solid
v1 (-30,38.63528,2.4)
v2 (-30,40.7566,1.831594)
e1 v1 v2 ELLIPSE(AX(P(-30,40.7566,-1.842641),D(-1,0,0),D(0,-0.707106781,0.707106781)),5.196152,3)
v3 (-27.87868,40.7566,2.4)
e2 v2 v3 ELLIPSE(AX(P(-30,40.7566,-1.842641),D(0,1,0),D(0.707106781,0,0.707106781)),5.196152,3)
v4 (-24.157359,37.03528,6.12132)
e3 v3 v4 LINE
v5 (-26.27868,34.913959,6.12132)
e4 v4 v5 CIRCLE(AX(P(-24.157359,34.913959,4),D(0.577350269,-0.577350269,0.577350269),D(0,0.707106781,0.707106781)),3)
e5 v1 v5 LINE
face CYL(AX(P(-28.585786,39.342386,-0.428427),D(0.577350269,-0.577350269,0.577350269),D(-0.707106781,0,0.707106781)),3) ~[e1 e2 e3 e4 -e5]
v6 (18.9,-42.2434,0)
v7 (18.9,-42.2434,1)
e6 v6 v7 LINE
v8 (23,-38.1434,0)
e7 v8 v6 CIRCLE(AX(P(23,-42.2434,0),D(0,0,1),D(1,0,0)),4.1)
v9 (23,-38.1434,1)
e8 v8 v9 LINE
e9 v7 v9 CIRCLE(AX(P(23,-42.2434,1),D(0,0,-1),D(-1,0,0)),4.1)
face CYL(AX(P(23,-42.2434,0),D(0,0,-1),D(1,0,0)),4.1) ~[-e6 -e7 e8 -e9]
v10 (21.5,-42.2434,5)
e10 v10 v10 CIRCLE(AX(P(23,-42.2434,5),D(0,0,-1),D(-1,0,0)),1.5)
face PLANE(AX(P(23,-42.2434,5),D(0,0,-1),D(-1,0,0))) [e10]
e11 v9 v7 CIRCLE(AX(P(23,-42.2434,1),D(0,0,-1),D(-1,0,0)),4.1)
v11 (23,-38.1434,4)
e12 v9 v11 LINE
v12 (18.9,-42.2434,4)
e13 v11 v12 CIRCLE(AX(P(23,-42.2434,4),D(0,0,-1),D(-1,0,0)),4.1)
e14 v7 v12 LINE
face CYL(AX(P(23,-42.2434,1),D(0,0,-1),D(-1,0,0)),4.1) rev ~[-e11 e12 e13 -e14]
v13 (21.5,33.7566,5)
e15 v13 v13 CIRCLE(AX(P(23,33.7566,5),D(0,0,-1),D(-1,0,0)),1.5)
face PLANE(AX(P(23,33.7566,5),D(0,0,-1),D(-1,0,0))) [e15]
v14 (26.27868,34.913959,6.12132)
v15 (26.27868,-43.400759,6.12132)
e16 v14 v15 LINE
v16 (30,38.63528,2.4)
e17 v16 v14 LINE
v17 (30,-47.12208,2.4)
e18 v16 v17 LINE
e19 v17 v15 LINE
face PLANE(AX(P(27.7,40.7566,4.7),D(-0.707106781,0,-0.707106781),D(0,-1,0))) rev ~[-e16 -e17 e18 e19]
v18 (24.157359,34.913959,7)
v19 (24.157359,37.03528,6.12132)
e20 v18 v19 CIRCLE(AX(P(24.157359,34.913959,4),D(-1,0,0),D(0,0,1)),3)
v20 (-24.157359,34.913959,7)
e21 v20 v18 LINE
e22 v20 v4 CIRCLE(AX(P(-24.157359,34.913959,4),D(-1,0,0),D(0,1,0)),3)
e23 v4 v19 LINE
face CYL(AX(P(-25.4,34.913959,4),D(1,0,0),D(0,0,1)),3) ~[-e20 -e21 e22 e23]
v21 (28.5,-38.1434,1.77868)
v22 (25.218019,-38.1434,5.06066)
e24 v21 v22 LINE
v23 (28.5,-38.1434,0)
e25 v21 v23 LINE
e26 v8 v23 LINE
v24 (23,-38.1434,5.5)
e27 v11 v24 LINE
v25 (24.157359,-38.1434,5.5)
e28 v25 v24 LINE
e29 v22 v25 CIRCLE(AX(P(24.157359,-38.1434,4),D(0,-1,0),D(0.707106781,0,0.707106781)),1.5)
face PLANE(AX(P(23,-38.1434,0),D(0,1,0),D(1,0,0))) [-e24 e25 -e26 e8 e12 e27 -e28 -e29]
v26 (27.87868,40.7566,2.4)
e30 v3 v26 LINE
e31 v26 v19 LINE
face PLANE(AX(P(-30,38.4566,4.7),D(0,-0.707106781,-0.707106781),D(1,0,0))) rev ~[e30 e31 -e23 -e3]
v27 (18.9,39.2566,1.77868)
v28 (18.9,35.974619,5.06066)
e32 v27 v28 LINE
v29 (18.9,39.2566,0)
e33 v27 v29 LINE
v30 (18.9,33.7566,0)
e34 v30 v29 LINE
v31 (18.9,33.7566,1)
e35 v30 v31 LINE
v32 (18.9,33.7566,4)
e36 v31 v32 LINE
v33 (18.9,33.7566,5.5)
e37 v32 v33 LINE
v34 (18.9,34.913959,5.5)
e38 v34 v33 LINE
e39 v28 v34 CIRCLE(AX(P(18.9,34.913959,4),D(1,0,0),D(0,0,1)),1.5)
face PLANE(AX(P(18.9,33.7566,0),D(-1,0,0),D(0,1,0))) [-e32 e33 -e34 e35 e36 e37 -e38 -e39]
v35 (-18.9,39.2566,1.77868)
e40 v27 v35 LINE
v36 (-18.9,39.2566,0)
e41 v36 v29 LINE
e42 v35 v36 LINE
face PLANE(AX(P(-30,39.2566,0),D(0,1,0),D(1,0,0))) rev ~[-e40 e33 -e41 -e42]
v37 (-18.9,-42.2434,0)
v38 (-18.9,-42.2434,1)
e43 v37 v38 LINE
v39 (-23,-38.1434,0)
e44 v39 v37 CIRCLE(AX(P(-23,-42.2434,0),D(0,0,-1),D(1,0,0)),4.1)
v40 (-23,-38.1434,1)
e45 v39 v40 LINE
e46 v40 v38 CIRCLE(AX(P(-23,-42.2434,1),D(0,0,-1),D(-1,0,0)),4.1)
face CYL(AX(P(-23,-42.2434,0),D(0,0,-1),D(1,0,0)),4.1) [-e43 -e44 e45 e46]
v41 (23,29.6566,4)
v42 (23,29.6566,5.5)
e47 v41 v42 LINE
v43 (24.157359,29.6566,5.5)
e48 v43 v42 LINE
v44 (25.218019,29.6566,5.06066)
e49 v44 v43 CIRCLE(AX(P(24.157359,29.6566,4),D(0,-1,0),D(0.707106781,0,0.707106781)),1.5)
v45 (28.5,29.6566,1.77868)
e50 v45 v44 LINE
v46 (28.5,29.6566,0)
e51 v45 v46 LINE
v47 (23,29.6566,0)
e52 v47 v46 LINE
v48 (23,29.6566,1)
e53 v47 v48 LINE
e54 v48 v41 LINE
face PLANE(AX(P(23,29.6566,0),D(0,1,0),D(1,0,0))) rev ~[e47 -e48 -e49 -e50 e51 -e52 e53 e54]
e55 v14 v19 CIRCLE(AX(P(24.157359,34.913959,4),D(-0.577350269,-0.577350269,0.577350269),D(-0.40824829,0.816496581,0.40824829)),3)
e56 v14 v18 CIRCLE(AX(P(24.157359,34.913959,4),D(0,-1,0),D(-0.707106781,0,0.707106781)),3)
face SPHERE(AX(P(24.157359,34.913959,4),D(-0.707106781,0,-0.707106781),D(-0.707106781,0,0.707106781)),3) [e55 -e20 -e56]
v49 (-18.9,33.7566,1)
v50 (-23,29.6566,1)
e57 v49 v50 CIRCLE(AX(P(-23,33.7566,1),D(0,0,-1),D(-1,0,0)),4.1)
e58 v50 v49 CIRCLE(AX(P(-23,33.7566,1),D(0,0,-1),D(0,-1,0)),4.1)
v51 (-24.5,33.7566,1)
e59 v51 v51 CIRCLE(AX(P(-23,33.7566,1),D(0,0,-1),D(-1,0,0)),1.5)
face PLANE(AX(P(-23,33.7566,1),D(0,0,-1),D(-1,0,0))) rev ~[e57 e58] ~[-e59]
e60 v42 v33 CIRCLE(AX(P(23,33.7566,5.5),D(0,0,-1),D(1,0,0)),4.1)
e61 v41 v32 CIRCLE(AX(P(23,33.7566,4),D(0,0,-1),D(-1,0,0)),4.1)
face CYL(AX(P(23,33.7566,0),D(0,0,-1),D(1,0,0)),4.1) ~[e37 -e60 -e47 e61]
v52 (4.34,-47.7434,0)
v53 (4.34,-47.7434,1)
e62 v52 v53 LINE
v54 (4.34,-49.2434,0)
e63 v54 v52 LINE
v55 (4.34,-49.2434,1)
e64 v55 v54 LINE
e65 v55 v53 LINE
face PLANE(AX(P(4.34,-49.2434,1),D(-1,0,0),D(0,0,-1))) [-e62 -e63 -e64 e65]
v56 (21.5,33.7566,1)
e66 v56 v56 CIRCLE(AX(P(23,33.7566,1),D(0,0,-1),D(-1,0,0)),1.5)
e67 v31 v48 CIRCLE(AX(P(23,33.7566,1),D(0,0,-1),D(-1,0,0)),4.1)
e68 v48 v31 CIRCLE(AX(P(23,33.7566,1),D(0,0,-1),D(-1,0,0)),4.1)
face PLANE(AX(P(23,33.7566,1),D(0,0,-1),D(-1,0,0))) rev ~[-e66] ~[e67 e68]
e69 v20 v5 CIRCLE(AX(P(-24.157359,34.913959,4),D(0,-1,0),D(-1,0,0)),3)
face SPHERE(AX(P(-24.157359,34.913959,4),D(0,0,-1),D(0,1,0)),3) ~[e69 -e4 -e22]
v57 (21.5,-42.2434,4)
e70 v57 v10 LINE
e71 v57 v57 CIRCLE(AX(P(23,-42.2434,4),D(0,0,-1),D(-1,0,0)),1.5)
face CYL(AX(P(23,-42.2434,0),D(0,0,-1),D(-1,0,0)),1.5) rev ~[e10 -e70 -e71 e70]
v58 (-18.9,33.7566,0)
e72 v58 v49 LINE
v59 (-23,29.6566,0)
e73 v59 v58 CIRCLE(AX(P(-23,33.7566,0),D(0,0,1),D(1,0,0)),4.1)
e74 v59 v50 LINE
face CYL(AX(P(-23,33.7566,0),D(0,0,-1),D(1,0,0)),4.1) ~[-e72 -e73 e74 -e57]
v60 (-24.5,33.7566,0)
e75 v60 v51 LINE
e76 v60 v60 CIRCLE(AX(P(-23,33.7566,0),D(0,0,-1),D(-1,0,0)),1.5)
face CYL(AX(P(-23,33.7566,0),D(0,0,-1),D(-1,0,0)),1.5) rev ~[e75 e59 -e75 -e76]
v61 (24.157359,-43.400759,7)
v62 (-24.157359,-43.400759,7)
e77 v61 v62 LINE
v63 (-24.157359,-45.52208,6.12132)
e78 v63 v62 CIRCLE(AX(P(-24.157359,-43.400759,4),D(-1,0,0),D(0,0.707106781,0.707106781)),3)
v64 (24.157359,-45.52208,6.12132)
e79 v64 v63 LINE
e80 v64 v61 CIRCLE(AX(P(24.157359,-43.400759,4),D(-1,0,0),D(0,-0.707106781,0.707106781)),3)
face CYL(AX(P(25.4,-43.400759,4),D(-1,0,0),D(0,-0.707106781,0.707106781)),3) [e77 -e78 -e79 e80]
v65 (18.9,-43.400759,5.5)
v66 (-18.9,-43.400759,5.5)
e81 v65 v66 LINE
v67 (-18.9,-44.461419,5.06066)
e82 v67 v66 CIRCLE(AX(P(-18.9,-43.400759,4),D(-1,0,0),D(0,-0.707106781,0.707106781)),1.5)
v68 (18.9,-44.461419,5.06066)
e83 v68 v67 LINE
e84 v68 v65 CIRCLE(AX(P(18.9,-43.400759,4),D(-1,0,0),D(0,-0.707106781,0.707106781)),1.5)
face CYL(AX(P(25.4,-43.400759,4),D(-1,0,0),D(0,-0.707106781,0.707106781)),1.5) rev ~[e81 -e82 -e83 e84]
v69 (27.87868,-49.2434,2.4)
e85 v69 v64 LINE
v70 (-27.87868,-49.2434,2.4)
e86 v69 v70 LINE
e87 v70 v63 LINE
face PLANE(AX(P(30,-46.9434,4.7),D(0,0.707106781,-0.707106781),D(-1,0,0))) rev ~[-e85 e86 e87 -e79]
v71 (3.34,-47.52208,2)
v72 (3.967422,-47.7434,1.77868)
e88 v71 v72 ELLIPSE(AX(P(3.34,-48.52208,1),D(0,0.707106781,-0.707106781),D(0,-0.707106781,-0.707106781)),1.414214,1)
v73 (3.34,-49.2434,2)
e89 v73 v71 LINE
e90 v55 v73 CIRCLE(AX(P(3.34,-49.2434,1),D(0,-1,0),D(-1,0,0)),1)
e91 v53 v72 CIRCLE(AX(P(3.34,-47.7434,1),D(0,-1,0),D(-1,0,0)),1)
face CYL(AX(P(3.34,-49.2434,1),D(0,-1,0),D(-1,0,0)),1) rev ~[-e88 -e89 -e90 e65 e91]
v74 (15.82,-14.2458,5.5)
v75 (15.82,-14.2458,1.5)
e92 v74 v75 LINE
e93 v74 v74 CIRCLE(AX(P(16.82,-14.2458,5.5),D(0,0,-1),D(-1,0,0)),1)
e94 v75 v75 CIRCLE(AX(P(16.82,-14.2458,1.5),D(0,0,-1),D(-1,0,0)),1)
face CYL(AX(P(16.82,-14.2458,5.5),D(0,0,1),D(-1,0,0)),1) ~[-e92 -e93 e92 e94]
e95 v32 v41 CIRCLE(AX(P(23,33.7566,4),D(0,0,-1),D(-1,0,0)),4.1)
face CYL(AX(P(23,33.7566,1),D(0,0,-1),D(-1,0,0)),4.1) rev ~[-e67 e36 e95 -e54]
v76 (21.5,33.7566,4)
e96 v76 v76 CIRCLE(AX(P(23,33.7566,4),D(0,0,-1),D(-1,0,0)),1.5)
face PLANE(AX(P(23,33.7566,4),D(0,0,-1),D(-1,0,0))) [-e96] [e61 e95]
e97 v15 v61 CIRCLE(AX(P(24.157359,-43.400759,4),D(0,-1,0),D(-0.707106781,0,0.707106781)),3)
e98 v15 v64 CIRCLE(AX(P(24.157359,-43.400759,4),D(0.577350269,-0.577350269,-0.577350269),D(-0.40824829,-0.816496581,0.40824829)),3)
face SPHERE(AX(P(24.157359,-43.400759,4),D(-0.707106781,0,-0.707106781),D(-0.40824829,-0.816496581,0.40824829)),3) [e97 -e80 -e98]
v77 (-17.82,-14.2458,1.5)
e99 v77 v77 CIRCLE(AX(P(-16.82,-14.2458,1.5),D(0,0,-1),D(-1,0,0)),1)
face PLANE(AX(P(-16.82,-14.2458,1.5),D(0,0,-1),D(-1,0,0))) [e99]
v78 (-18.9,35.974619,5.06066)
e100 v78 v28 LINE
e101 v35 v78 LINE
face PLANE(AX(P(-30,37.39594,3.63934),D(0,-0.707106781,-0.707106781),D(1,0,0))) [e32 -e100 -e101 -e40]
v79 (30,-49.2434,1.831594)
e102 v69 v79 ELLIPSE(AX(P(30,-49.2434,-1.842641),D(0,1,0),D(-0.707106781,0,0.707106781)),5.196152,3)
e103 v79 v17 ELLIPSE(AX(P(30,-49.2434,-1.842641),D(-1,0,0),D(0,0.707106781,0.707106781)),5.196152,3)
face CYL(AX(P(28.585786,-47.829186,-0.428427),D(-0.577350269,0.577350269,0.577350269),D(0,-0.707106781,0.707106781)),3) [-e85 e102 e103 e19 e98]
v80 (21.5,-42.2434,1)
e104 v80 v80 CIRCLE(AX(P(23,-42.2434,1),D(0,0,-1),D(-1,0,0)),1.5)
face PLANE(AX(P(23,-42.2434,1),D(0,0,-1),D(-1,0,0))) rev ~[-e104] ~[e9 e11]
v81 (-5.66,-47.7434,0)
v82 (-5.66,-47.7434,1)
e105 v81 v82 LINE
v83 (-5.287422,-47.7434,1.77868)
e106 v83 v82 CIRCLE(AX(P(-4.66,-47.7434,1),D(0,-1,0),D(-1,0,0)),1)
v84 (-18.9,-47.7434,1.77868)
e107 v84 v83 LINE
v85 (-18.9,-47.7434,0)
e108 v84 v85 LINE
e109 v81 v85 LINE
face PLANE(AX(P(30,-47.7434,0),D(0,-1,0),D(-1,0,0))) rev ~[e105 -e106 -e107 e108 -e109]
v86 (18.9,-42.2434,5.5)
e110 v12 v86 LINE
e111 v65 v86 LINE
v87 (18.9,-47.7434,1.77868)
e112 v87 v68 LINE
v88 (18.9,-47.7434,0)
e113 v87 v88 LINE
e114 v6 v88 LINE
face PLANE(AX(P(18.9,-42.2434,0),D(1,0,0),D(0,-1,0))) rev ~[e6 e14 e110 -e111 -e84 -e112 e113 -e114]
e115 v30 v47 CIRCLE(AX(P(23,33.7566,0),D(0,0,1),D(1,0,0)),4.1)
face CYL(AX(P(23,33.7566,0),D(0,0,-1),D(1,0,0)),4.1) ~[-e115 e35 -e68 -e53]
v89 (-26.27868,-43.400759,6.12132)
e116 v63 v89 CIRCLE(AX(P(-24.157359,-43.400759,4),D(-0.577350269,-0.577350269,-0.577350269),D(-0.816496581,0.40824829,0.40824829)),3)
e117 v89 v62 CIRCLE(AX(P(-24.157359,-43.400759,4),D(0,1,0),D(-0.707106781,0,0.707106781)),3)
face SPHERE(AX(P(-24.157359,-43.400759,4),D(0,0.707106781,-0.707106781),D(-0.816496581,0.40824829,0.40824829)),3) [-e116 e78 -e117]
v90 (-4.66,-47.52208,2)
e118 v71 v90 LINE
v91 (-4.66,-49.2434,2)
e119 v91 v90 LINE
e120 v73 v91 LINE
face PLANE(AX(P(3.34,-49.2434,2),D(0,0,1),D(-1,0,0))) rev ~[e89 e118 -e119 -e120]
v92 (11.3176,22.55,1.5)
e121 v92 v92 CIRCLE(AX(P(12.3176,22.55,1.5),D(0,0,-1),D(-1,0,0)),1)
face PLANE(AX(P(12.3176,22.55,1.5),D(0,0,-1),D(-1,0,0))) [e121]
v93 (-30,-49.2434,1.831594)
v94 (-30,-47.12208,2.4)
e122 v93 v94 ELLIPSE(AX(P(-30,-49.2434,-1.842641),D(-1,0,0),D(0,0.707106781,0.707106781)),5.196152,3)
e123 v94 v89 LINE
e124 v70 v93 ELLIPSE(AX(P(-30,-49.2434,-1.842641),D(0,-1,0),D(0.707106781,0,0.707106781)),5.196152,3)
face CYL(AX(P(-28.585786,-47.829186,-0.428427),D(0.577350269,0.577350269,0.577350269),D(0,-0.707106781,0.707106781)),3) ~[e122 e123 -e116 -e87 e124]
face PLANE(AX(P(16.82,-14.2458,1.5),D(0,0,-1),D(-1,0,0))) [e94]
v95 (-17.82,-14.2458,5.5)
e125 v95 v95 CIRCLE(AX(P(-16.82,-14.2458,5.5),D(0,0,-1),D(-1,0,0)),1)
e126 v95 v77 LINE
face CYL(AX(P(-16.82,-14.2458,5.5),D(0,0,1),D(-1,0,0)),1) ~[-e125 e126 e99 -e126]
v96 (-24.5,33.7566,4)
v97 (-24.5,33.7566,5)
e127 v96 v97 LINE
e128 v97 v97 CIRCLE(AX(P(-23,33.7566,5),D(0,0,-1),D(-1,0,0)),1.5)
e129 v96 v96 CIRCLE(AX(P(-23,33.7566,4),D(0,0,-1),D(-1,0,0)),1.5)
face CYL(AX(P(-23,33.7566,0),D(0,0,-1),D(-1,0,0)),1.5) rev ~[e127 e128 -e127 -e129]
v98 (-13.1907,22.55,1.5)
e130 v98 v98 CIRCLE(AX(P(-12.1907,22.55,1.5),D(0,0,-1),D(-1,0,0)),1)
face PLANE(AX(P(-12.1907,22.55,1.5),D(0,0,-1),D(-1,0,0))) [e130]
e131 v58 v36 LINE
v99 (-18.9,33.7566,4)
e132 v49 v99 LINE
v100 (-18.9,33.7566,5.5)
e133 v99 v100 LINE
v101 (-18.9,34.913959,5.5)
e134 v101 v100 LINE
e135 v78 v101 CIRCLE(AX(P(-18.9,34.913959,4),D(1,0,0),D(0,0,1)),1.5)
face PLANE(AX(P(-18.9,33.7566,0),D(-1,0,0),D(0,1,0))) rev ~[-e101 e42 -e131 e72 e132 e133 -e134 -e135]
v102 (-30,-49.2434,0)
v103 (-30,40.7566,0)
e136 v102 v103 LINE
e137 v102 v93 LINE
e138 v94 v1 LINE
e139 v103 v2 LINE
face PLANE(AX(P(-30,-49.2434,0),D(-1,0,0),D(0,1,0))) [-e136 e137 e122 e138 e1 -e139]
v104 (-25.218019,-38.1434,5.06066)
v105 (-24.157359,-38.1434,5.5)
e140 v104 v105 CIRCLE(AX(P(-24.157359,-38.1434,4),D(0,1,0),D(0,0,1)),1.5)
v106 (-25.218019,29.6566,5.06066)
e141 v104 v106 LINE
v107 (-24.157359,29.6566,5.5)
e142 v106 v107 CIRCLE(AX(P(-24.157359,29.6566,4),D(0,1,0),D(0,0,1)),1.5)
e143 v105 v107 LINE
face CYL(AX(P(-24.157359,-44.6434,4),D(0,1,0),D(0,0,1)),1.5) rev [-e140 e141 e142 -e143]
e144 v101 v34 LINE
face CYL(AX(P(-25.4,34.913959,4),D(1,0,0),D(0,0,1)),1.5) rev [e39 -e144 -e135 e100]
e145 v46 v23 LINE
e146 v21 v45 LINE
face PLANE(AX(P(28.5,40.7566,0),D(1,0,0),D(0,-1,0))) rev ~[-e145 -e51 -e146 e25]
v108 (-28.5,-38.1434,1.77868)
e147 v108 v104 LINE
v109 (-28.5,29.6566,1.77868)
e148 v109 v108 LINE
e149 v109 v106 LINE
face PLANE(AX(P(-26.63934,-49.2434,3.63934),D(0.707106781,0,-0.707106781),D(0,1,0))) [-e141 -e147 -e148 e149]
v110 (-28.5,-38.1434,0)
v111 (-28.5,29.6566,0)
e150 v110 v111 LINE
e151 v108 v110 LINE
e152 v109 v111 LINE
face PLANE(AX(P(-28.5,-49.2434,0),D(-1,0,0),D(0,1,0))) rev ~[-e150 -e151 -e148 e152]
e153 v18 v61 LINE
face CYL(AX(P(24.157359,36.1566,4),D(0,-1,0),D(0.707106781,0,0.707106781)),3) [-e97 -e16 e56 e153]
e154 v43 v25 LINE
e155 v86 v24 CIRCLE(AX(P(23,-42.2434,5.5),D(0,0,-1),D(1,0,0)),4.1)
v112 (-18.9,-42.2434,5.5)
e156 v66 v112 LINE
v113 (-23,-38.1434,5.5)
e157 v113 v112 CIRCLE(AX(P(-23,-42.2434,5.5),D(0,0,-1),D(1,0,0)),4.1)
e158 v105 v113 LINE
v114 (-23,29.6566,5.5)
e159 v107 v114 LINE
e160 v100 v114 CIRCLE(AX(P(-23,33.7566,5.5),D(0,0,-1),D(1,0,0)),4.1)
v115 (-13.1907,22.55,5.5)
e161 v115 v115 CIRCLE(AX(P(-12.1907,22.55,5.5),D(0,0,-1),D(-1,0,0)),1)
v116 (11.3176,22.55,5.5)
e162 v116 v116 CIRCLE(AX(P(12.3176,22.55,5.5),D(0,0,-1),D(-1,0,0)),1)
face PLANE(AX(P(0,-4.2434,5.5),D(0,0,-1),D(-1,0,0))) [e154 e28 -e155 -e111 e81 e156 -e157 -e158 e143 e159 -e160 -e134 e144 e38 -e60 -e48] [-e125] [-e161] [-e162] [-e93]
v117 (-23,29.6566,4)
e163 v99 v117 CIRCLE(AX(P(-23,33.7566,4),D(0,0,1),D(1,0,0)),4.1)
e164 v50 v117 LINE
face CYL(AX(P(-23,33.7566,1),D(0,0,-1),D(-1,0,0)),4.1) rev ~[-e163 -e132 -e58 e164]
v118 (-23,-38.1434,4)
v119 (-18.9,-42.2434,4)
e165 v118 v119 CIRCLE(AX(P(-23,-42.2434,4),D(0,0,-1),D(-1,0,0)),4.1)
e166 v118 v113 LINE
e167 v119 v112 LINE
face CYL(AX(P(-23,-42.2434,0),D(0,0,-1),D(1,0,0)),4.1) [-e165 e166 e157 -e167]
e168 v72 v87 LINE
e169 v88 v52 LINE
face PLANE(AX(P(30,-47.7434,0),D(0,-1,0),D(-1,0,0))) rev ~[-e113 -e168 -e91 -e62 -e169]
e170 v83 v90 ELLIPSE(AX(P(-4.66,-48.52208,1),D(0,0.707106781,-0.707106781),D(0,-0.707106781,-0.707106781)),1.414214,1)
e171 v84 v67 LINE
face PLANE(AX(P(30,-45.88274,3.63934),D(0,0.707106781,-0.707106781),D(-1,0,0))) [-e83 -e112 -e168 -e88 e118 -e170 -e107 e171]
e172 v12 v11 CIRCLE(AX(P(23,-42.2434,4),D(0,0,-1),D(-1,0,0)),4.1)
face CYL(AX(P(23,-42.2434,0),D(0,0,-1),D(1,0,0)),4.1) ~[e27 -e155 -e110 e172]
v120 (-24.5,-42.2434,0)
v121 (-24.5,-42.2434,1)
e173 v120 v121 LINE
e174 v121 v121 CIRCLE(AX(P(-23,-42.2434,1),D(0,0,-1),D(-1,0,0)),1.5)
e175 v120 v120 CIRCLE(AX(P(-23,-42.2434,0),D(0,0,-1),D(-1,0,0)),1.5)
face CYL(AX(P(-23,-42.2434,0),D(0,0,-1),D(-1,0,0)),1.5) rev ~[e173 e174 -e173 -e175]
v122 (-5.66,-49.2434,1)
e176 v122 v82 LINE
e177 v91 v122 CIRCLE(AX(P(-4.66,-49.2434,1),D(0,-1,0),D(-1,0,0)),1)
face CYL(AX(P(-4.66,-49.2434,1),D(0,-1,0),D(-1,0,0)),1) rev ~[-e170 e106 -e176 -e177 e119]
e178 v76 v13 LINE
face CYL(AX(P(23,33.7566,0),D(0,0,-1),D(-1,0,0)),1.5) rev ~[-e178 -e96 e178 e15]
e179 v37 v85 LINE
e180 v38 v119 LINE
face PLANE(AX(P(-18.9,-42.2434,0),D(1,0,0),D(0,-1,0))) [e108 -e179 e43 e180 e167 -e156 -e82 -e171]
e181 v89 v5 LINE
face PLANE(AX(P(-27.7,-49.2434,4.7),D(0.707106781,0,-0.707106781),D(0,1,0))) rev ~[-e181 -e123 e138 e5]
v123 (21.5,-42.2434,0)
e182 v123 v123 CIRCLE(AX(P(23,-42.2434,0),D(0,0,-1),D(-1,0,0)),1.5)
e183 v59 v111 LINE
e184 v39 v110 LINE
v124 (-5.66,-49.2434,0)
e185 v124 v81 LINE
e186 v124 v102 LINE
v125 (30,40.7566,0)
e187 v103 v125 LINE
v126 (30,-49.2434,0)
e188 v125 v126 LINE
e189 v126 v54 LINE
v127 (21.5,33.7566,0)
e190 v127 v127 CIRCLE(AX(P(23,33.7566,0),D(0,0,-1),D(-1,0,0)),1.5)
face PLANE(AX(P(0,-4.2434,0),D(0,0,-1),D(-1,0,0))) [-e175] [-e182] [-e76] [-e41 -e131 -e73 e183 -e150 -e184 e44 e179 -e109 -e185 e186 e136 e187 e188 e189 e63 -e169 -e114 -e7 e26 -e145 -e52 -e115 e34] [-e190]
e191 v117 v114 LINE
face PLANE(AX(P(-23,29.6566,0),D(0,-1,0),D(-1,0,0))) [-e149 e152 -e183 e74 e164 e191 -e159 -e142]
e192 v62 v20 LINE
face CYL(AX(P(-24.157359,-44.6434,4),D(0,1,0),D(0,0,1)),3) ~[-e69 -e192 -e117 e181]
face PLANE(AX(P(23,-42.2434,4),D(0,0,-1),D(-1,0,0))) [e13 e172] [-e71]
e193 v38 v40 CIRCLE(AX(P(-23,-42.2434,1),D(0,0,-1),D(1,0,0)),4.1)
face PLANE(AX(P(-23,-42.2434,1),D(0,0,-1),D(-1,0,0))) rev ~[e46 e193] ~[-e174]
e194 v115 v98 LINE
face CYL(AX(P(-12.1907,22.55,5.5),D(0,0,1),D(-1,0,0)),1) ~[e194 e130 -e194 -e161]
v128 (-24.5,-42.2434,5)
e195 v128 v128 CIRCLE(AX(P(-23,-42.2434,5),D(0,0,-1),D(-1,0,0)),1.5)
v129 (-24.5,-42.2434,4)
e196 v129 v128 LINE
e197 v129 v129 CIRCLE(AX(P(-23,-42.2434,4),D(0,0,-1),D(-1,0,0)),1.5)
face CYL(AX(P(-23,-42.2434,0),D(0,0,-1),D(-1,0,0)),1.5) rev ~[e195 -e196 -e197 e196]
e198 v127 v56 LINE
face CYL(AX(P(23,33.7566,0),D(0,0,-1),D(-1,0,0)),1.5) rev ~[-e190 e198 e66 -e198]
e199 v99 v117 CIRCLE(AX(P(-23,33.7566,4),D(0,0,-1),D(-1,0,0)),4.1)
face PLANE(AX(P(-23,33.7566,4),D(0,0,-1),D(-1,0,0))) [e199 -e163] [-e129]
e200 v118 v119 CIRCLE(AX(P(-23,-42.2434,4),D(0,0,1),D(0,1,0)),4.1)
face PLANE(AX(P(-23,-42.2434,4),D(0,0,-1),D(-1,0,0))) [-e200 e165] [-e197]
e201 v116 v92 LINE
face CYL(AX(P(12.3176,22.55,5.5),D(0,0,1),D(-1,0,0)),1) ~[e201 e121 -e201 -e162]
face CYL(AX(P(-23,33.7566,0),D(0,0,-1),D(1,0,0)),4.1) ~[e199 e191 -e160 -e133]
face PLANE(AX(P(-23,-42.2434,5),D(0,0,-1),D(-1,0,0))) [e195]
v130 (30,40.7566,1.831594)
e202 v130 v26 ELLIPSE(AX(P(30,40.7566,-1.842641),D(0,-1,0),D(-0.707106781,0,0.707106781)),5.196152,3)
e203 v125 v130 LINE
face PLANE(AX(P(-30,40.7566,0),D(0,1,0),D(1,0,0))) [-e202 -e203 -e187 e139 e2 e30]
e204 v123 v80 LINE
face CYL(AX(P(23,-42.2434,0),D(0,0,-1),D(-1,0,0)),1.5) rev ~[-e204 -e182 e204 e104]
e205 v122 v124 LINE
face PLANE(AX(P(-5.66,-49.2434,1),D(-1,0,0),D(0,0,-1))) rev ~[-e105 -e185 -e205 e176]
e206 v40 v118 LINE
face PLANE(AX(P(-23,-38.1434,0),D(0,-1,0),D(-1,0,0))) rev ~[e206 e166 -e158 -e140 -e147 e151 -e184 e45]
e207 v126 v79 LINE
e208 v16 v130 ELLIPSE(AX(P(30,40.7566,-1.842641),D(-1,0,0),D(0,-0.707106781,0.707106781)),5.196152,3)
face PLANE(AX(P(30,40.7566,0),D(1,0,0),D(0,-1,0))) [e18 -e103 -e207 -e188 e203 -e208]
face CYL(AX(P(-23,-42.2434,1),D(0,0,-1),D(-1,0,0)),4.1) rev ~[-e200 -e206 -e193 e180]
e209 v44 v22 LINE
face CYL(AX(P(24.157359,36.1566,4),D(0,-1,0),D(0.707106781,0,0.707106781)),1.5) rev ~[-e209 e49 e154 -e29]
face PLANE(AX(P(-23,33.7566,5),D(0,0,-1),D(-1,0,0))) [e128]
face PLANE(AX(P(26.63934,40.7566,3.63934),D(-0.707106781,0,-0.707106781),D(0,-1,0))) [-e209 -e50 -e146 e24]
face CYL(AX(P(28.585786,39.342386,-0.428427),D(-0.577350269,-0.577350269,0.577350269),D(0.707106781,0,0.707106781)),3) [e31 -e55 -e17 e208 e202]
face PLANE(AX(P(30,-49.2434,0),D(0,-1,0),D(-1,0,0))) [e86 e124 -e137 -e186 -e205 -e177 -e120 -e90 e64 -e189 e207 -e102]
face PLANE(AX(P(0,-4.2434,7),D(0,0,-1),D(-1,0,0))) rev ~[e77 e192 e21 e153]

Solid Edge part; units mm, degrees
sketch "Sketch1" plane through (0, 0, 0) normal (0, 0, 1) x (1, 0, 0)
  line L0 (30, -49.2434) -> (-30, -49.2434)
  line L1 (-30, -49.2434) -> (-30, 40.7566)
  line L2 (-30, 40.7566) -> (30, 40.7566)
  line L3 (30, 40.7566) -> (30, -49.2434)
  dimension "D1" = 90
  dimension "D2" = 60
extrude "Protrusion1" add sketch "Sketch1" along normal blind 7
chamfer "Chamfer_1" distance 4.6 angle 45 4 edges at (0, -49.2434, 7) (30, -4.2434, 7) (0, 40.7566, 7) (-30, -4.2434, 7)
fillet "Round_1" radius 3 8 edges at (-27.7, 38.4566, 4.7) (0, 36.1566, 7) (-25.4, -4.2434, 7) (-27.7, -46.9434, 4.7) (0, -44.6434, 7) (27.7, -46.9434, 4.7) (25.4, -4.2434, 7) (27.7, 38.4566, 4.7)
shell "Thinwall_1" thickness 1.5 removed faces 1 at (20.6, -33.3434, 0)
sketch "Sketch2" plane through (0, -4.1731, 5.5) normal (0, 0, -1) x (-1, 0, 0)
  circle A0 centre (-12.3176, 26.7231) radius 1
  circle A1 centre (12.1907, 26.7231) radius 1
  circle A2 centre (16.82, -10.0727) radius 1
  circle A3 centre (-16.82, -10.0727) radius 1
  dimension "D1" = 0.5
extrude "ExtrudedProtrusion_2" add sketch "Sketch2" along normal blind 4
sketch "Sketch3" plane through (0, 0, 0) normal (0, 0, 1) x (1, 0, 0)
  line L0 (-23, 29.6566) -> (-30, 29.6566)
  line L1 (-30, 29.6566) -> (-30, 40.7566)
  line L2 (-18.9, 40.7566) -> (-30, 40.7566)
  line L3 (-18.9, 33.7566) -> (-18.9, 40.7566)
  arc A0 (-23, 29.6566) -> (-18.9, 33.7566) centre (-23, 33.7566) ccw
  line L4 (18.9, 33.7566) -> (18.9, 40.7566)
  line L5 (18.9, 40.7566) -> (30, 40.7566)
  line L6 (30, 29.6566) -> (30, 40.7566)
  line L7 (23, 29.6566) -> (30, 29.6566)
  arc A1 (18.9, 33.7566) -> (23, 29.6566) centre (23, 33.7566) ccw
  line L8 (23, -38.1434) -> (30, -38.1434)
  line L9 (30, -38.1434) -> (30, -49.2434)
  line L10 (18.9, -49.2434) -> (30, -49.2434)
  line L11 (18.9, -42.2434) -> (18.9, -49.2434)
  arc A2 (23, -38.1434) -> (18.9, -42.2434) centre (23, -42.2434) ccw
  line L12 (-23, -38.1434) -> (-30, -38.1434)
  line L13 (-30, -38.1434) -> (-30, -49.2434)
  line L14 (-18.9, -49.2434) -> (-30, -49.2434)
  line L15 (-18.9, -42.2434) -> (-18.9, -49.2434)
  arc A3 (-23, -38.1434) -> (-18.9, -42.2434) centre (-23, -42.2434) cw
  dimension "D1" = 7
  dimension "D2" = 7
  dimension "D3" = 7
  dimension "D4" = 7
  dimension "D5" = 7
  dimension "D6" = 7
  dimension "D7" = 7
extrude "Protrusion2" add sketch "Sketch3" along normal up to next
sketch "Sketch4" plane through (0, -4.4902, 1) normal (0, 0, -1) x (-1, 0, 0)
  circle A0 centre (-23, -37.7532) radius 4.1
  circle A1 centre (23, -37.7532) radius 4.1
  circle A2 centre (23, 38.2468) radius 4.1
  circle A3 centre (-23, 38.2468) radius 4.1
extrude "ExtrudedCutout_1" cut sketch "Sketch4" against normal blind 3
sketch "Sketch5" plane through (0, -4.2434, 0) normal (0, 0, -1) x (-1, 0, 0)
  circle A0 centre (-23, -38) radius 1.5
  circle A1 centre (23, -38) radius 1.5
  circle A2 centre (23, 38) radius 1.5
  circle A3 centre (-23, 38) radius 1.5
  dimension "D1" = 59.1
  dimension "D2" = 38.64
  dimension "D3" = 7
  dimension "D4" = 7
  dimension "D5" = 2.5
  dimension "D6" = 2.5
  dimension "D7" = 15.3042
  dimension "D8" = 15.3042
  dimension "D9" = 9.32
  dimension "D10" = 8
  dimension "D11" = 9
extrude "ExtrudedCutout_2" cut sketch "Sketch5" against normal blind 5
sketch "Sketch6" plane through (0, -49.2434, 1.2) normal (0, -1, 0) x (-1, 0, 0)
  line L0 (-3.34, -0.8) -> (4.66, -0.8)
  line L1 (5.66, 0.2) -> (5.66, 1.2)
  line L2 (5.66, 1.2) -> (-4.34, 1.2)
  line L3 (-4.34, 0.2) -> (-4.34, 1.2)
  arc A0 (4.66, -0.8) -> (5.66, 0.2) centre (4.66, 0.2) ccw
  arc A1 (-4.34, 0.2) -> (-3.34, -0.8) centre (-3.34, 0.2) ccw
  dimension "D1" = 2
  dimension "D2" = 2
  dimension "D3" = 8
extrude "Cutout1" cut sketch "Sketch6" against normal up to next
